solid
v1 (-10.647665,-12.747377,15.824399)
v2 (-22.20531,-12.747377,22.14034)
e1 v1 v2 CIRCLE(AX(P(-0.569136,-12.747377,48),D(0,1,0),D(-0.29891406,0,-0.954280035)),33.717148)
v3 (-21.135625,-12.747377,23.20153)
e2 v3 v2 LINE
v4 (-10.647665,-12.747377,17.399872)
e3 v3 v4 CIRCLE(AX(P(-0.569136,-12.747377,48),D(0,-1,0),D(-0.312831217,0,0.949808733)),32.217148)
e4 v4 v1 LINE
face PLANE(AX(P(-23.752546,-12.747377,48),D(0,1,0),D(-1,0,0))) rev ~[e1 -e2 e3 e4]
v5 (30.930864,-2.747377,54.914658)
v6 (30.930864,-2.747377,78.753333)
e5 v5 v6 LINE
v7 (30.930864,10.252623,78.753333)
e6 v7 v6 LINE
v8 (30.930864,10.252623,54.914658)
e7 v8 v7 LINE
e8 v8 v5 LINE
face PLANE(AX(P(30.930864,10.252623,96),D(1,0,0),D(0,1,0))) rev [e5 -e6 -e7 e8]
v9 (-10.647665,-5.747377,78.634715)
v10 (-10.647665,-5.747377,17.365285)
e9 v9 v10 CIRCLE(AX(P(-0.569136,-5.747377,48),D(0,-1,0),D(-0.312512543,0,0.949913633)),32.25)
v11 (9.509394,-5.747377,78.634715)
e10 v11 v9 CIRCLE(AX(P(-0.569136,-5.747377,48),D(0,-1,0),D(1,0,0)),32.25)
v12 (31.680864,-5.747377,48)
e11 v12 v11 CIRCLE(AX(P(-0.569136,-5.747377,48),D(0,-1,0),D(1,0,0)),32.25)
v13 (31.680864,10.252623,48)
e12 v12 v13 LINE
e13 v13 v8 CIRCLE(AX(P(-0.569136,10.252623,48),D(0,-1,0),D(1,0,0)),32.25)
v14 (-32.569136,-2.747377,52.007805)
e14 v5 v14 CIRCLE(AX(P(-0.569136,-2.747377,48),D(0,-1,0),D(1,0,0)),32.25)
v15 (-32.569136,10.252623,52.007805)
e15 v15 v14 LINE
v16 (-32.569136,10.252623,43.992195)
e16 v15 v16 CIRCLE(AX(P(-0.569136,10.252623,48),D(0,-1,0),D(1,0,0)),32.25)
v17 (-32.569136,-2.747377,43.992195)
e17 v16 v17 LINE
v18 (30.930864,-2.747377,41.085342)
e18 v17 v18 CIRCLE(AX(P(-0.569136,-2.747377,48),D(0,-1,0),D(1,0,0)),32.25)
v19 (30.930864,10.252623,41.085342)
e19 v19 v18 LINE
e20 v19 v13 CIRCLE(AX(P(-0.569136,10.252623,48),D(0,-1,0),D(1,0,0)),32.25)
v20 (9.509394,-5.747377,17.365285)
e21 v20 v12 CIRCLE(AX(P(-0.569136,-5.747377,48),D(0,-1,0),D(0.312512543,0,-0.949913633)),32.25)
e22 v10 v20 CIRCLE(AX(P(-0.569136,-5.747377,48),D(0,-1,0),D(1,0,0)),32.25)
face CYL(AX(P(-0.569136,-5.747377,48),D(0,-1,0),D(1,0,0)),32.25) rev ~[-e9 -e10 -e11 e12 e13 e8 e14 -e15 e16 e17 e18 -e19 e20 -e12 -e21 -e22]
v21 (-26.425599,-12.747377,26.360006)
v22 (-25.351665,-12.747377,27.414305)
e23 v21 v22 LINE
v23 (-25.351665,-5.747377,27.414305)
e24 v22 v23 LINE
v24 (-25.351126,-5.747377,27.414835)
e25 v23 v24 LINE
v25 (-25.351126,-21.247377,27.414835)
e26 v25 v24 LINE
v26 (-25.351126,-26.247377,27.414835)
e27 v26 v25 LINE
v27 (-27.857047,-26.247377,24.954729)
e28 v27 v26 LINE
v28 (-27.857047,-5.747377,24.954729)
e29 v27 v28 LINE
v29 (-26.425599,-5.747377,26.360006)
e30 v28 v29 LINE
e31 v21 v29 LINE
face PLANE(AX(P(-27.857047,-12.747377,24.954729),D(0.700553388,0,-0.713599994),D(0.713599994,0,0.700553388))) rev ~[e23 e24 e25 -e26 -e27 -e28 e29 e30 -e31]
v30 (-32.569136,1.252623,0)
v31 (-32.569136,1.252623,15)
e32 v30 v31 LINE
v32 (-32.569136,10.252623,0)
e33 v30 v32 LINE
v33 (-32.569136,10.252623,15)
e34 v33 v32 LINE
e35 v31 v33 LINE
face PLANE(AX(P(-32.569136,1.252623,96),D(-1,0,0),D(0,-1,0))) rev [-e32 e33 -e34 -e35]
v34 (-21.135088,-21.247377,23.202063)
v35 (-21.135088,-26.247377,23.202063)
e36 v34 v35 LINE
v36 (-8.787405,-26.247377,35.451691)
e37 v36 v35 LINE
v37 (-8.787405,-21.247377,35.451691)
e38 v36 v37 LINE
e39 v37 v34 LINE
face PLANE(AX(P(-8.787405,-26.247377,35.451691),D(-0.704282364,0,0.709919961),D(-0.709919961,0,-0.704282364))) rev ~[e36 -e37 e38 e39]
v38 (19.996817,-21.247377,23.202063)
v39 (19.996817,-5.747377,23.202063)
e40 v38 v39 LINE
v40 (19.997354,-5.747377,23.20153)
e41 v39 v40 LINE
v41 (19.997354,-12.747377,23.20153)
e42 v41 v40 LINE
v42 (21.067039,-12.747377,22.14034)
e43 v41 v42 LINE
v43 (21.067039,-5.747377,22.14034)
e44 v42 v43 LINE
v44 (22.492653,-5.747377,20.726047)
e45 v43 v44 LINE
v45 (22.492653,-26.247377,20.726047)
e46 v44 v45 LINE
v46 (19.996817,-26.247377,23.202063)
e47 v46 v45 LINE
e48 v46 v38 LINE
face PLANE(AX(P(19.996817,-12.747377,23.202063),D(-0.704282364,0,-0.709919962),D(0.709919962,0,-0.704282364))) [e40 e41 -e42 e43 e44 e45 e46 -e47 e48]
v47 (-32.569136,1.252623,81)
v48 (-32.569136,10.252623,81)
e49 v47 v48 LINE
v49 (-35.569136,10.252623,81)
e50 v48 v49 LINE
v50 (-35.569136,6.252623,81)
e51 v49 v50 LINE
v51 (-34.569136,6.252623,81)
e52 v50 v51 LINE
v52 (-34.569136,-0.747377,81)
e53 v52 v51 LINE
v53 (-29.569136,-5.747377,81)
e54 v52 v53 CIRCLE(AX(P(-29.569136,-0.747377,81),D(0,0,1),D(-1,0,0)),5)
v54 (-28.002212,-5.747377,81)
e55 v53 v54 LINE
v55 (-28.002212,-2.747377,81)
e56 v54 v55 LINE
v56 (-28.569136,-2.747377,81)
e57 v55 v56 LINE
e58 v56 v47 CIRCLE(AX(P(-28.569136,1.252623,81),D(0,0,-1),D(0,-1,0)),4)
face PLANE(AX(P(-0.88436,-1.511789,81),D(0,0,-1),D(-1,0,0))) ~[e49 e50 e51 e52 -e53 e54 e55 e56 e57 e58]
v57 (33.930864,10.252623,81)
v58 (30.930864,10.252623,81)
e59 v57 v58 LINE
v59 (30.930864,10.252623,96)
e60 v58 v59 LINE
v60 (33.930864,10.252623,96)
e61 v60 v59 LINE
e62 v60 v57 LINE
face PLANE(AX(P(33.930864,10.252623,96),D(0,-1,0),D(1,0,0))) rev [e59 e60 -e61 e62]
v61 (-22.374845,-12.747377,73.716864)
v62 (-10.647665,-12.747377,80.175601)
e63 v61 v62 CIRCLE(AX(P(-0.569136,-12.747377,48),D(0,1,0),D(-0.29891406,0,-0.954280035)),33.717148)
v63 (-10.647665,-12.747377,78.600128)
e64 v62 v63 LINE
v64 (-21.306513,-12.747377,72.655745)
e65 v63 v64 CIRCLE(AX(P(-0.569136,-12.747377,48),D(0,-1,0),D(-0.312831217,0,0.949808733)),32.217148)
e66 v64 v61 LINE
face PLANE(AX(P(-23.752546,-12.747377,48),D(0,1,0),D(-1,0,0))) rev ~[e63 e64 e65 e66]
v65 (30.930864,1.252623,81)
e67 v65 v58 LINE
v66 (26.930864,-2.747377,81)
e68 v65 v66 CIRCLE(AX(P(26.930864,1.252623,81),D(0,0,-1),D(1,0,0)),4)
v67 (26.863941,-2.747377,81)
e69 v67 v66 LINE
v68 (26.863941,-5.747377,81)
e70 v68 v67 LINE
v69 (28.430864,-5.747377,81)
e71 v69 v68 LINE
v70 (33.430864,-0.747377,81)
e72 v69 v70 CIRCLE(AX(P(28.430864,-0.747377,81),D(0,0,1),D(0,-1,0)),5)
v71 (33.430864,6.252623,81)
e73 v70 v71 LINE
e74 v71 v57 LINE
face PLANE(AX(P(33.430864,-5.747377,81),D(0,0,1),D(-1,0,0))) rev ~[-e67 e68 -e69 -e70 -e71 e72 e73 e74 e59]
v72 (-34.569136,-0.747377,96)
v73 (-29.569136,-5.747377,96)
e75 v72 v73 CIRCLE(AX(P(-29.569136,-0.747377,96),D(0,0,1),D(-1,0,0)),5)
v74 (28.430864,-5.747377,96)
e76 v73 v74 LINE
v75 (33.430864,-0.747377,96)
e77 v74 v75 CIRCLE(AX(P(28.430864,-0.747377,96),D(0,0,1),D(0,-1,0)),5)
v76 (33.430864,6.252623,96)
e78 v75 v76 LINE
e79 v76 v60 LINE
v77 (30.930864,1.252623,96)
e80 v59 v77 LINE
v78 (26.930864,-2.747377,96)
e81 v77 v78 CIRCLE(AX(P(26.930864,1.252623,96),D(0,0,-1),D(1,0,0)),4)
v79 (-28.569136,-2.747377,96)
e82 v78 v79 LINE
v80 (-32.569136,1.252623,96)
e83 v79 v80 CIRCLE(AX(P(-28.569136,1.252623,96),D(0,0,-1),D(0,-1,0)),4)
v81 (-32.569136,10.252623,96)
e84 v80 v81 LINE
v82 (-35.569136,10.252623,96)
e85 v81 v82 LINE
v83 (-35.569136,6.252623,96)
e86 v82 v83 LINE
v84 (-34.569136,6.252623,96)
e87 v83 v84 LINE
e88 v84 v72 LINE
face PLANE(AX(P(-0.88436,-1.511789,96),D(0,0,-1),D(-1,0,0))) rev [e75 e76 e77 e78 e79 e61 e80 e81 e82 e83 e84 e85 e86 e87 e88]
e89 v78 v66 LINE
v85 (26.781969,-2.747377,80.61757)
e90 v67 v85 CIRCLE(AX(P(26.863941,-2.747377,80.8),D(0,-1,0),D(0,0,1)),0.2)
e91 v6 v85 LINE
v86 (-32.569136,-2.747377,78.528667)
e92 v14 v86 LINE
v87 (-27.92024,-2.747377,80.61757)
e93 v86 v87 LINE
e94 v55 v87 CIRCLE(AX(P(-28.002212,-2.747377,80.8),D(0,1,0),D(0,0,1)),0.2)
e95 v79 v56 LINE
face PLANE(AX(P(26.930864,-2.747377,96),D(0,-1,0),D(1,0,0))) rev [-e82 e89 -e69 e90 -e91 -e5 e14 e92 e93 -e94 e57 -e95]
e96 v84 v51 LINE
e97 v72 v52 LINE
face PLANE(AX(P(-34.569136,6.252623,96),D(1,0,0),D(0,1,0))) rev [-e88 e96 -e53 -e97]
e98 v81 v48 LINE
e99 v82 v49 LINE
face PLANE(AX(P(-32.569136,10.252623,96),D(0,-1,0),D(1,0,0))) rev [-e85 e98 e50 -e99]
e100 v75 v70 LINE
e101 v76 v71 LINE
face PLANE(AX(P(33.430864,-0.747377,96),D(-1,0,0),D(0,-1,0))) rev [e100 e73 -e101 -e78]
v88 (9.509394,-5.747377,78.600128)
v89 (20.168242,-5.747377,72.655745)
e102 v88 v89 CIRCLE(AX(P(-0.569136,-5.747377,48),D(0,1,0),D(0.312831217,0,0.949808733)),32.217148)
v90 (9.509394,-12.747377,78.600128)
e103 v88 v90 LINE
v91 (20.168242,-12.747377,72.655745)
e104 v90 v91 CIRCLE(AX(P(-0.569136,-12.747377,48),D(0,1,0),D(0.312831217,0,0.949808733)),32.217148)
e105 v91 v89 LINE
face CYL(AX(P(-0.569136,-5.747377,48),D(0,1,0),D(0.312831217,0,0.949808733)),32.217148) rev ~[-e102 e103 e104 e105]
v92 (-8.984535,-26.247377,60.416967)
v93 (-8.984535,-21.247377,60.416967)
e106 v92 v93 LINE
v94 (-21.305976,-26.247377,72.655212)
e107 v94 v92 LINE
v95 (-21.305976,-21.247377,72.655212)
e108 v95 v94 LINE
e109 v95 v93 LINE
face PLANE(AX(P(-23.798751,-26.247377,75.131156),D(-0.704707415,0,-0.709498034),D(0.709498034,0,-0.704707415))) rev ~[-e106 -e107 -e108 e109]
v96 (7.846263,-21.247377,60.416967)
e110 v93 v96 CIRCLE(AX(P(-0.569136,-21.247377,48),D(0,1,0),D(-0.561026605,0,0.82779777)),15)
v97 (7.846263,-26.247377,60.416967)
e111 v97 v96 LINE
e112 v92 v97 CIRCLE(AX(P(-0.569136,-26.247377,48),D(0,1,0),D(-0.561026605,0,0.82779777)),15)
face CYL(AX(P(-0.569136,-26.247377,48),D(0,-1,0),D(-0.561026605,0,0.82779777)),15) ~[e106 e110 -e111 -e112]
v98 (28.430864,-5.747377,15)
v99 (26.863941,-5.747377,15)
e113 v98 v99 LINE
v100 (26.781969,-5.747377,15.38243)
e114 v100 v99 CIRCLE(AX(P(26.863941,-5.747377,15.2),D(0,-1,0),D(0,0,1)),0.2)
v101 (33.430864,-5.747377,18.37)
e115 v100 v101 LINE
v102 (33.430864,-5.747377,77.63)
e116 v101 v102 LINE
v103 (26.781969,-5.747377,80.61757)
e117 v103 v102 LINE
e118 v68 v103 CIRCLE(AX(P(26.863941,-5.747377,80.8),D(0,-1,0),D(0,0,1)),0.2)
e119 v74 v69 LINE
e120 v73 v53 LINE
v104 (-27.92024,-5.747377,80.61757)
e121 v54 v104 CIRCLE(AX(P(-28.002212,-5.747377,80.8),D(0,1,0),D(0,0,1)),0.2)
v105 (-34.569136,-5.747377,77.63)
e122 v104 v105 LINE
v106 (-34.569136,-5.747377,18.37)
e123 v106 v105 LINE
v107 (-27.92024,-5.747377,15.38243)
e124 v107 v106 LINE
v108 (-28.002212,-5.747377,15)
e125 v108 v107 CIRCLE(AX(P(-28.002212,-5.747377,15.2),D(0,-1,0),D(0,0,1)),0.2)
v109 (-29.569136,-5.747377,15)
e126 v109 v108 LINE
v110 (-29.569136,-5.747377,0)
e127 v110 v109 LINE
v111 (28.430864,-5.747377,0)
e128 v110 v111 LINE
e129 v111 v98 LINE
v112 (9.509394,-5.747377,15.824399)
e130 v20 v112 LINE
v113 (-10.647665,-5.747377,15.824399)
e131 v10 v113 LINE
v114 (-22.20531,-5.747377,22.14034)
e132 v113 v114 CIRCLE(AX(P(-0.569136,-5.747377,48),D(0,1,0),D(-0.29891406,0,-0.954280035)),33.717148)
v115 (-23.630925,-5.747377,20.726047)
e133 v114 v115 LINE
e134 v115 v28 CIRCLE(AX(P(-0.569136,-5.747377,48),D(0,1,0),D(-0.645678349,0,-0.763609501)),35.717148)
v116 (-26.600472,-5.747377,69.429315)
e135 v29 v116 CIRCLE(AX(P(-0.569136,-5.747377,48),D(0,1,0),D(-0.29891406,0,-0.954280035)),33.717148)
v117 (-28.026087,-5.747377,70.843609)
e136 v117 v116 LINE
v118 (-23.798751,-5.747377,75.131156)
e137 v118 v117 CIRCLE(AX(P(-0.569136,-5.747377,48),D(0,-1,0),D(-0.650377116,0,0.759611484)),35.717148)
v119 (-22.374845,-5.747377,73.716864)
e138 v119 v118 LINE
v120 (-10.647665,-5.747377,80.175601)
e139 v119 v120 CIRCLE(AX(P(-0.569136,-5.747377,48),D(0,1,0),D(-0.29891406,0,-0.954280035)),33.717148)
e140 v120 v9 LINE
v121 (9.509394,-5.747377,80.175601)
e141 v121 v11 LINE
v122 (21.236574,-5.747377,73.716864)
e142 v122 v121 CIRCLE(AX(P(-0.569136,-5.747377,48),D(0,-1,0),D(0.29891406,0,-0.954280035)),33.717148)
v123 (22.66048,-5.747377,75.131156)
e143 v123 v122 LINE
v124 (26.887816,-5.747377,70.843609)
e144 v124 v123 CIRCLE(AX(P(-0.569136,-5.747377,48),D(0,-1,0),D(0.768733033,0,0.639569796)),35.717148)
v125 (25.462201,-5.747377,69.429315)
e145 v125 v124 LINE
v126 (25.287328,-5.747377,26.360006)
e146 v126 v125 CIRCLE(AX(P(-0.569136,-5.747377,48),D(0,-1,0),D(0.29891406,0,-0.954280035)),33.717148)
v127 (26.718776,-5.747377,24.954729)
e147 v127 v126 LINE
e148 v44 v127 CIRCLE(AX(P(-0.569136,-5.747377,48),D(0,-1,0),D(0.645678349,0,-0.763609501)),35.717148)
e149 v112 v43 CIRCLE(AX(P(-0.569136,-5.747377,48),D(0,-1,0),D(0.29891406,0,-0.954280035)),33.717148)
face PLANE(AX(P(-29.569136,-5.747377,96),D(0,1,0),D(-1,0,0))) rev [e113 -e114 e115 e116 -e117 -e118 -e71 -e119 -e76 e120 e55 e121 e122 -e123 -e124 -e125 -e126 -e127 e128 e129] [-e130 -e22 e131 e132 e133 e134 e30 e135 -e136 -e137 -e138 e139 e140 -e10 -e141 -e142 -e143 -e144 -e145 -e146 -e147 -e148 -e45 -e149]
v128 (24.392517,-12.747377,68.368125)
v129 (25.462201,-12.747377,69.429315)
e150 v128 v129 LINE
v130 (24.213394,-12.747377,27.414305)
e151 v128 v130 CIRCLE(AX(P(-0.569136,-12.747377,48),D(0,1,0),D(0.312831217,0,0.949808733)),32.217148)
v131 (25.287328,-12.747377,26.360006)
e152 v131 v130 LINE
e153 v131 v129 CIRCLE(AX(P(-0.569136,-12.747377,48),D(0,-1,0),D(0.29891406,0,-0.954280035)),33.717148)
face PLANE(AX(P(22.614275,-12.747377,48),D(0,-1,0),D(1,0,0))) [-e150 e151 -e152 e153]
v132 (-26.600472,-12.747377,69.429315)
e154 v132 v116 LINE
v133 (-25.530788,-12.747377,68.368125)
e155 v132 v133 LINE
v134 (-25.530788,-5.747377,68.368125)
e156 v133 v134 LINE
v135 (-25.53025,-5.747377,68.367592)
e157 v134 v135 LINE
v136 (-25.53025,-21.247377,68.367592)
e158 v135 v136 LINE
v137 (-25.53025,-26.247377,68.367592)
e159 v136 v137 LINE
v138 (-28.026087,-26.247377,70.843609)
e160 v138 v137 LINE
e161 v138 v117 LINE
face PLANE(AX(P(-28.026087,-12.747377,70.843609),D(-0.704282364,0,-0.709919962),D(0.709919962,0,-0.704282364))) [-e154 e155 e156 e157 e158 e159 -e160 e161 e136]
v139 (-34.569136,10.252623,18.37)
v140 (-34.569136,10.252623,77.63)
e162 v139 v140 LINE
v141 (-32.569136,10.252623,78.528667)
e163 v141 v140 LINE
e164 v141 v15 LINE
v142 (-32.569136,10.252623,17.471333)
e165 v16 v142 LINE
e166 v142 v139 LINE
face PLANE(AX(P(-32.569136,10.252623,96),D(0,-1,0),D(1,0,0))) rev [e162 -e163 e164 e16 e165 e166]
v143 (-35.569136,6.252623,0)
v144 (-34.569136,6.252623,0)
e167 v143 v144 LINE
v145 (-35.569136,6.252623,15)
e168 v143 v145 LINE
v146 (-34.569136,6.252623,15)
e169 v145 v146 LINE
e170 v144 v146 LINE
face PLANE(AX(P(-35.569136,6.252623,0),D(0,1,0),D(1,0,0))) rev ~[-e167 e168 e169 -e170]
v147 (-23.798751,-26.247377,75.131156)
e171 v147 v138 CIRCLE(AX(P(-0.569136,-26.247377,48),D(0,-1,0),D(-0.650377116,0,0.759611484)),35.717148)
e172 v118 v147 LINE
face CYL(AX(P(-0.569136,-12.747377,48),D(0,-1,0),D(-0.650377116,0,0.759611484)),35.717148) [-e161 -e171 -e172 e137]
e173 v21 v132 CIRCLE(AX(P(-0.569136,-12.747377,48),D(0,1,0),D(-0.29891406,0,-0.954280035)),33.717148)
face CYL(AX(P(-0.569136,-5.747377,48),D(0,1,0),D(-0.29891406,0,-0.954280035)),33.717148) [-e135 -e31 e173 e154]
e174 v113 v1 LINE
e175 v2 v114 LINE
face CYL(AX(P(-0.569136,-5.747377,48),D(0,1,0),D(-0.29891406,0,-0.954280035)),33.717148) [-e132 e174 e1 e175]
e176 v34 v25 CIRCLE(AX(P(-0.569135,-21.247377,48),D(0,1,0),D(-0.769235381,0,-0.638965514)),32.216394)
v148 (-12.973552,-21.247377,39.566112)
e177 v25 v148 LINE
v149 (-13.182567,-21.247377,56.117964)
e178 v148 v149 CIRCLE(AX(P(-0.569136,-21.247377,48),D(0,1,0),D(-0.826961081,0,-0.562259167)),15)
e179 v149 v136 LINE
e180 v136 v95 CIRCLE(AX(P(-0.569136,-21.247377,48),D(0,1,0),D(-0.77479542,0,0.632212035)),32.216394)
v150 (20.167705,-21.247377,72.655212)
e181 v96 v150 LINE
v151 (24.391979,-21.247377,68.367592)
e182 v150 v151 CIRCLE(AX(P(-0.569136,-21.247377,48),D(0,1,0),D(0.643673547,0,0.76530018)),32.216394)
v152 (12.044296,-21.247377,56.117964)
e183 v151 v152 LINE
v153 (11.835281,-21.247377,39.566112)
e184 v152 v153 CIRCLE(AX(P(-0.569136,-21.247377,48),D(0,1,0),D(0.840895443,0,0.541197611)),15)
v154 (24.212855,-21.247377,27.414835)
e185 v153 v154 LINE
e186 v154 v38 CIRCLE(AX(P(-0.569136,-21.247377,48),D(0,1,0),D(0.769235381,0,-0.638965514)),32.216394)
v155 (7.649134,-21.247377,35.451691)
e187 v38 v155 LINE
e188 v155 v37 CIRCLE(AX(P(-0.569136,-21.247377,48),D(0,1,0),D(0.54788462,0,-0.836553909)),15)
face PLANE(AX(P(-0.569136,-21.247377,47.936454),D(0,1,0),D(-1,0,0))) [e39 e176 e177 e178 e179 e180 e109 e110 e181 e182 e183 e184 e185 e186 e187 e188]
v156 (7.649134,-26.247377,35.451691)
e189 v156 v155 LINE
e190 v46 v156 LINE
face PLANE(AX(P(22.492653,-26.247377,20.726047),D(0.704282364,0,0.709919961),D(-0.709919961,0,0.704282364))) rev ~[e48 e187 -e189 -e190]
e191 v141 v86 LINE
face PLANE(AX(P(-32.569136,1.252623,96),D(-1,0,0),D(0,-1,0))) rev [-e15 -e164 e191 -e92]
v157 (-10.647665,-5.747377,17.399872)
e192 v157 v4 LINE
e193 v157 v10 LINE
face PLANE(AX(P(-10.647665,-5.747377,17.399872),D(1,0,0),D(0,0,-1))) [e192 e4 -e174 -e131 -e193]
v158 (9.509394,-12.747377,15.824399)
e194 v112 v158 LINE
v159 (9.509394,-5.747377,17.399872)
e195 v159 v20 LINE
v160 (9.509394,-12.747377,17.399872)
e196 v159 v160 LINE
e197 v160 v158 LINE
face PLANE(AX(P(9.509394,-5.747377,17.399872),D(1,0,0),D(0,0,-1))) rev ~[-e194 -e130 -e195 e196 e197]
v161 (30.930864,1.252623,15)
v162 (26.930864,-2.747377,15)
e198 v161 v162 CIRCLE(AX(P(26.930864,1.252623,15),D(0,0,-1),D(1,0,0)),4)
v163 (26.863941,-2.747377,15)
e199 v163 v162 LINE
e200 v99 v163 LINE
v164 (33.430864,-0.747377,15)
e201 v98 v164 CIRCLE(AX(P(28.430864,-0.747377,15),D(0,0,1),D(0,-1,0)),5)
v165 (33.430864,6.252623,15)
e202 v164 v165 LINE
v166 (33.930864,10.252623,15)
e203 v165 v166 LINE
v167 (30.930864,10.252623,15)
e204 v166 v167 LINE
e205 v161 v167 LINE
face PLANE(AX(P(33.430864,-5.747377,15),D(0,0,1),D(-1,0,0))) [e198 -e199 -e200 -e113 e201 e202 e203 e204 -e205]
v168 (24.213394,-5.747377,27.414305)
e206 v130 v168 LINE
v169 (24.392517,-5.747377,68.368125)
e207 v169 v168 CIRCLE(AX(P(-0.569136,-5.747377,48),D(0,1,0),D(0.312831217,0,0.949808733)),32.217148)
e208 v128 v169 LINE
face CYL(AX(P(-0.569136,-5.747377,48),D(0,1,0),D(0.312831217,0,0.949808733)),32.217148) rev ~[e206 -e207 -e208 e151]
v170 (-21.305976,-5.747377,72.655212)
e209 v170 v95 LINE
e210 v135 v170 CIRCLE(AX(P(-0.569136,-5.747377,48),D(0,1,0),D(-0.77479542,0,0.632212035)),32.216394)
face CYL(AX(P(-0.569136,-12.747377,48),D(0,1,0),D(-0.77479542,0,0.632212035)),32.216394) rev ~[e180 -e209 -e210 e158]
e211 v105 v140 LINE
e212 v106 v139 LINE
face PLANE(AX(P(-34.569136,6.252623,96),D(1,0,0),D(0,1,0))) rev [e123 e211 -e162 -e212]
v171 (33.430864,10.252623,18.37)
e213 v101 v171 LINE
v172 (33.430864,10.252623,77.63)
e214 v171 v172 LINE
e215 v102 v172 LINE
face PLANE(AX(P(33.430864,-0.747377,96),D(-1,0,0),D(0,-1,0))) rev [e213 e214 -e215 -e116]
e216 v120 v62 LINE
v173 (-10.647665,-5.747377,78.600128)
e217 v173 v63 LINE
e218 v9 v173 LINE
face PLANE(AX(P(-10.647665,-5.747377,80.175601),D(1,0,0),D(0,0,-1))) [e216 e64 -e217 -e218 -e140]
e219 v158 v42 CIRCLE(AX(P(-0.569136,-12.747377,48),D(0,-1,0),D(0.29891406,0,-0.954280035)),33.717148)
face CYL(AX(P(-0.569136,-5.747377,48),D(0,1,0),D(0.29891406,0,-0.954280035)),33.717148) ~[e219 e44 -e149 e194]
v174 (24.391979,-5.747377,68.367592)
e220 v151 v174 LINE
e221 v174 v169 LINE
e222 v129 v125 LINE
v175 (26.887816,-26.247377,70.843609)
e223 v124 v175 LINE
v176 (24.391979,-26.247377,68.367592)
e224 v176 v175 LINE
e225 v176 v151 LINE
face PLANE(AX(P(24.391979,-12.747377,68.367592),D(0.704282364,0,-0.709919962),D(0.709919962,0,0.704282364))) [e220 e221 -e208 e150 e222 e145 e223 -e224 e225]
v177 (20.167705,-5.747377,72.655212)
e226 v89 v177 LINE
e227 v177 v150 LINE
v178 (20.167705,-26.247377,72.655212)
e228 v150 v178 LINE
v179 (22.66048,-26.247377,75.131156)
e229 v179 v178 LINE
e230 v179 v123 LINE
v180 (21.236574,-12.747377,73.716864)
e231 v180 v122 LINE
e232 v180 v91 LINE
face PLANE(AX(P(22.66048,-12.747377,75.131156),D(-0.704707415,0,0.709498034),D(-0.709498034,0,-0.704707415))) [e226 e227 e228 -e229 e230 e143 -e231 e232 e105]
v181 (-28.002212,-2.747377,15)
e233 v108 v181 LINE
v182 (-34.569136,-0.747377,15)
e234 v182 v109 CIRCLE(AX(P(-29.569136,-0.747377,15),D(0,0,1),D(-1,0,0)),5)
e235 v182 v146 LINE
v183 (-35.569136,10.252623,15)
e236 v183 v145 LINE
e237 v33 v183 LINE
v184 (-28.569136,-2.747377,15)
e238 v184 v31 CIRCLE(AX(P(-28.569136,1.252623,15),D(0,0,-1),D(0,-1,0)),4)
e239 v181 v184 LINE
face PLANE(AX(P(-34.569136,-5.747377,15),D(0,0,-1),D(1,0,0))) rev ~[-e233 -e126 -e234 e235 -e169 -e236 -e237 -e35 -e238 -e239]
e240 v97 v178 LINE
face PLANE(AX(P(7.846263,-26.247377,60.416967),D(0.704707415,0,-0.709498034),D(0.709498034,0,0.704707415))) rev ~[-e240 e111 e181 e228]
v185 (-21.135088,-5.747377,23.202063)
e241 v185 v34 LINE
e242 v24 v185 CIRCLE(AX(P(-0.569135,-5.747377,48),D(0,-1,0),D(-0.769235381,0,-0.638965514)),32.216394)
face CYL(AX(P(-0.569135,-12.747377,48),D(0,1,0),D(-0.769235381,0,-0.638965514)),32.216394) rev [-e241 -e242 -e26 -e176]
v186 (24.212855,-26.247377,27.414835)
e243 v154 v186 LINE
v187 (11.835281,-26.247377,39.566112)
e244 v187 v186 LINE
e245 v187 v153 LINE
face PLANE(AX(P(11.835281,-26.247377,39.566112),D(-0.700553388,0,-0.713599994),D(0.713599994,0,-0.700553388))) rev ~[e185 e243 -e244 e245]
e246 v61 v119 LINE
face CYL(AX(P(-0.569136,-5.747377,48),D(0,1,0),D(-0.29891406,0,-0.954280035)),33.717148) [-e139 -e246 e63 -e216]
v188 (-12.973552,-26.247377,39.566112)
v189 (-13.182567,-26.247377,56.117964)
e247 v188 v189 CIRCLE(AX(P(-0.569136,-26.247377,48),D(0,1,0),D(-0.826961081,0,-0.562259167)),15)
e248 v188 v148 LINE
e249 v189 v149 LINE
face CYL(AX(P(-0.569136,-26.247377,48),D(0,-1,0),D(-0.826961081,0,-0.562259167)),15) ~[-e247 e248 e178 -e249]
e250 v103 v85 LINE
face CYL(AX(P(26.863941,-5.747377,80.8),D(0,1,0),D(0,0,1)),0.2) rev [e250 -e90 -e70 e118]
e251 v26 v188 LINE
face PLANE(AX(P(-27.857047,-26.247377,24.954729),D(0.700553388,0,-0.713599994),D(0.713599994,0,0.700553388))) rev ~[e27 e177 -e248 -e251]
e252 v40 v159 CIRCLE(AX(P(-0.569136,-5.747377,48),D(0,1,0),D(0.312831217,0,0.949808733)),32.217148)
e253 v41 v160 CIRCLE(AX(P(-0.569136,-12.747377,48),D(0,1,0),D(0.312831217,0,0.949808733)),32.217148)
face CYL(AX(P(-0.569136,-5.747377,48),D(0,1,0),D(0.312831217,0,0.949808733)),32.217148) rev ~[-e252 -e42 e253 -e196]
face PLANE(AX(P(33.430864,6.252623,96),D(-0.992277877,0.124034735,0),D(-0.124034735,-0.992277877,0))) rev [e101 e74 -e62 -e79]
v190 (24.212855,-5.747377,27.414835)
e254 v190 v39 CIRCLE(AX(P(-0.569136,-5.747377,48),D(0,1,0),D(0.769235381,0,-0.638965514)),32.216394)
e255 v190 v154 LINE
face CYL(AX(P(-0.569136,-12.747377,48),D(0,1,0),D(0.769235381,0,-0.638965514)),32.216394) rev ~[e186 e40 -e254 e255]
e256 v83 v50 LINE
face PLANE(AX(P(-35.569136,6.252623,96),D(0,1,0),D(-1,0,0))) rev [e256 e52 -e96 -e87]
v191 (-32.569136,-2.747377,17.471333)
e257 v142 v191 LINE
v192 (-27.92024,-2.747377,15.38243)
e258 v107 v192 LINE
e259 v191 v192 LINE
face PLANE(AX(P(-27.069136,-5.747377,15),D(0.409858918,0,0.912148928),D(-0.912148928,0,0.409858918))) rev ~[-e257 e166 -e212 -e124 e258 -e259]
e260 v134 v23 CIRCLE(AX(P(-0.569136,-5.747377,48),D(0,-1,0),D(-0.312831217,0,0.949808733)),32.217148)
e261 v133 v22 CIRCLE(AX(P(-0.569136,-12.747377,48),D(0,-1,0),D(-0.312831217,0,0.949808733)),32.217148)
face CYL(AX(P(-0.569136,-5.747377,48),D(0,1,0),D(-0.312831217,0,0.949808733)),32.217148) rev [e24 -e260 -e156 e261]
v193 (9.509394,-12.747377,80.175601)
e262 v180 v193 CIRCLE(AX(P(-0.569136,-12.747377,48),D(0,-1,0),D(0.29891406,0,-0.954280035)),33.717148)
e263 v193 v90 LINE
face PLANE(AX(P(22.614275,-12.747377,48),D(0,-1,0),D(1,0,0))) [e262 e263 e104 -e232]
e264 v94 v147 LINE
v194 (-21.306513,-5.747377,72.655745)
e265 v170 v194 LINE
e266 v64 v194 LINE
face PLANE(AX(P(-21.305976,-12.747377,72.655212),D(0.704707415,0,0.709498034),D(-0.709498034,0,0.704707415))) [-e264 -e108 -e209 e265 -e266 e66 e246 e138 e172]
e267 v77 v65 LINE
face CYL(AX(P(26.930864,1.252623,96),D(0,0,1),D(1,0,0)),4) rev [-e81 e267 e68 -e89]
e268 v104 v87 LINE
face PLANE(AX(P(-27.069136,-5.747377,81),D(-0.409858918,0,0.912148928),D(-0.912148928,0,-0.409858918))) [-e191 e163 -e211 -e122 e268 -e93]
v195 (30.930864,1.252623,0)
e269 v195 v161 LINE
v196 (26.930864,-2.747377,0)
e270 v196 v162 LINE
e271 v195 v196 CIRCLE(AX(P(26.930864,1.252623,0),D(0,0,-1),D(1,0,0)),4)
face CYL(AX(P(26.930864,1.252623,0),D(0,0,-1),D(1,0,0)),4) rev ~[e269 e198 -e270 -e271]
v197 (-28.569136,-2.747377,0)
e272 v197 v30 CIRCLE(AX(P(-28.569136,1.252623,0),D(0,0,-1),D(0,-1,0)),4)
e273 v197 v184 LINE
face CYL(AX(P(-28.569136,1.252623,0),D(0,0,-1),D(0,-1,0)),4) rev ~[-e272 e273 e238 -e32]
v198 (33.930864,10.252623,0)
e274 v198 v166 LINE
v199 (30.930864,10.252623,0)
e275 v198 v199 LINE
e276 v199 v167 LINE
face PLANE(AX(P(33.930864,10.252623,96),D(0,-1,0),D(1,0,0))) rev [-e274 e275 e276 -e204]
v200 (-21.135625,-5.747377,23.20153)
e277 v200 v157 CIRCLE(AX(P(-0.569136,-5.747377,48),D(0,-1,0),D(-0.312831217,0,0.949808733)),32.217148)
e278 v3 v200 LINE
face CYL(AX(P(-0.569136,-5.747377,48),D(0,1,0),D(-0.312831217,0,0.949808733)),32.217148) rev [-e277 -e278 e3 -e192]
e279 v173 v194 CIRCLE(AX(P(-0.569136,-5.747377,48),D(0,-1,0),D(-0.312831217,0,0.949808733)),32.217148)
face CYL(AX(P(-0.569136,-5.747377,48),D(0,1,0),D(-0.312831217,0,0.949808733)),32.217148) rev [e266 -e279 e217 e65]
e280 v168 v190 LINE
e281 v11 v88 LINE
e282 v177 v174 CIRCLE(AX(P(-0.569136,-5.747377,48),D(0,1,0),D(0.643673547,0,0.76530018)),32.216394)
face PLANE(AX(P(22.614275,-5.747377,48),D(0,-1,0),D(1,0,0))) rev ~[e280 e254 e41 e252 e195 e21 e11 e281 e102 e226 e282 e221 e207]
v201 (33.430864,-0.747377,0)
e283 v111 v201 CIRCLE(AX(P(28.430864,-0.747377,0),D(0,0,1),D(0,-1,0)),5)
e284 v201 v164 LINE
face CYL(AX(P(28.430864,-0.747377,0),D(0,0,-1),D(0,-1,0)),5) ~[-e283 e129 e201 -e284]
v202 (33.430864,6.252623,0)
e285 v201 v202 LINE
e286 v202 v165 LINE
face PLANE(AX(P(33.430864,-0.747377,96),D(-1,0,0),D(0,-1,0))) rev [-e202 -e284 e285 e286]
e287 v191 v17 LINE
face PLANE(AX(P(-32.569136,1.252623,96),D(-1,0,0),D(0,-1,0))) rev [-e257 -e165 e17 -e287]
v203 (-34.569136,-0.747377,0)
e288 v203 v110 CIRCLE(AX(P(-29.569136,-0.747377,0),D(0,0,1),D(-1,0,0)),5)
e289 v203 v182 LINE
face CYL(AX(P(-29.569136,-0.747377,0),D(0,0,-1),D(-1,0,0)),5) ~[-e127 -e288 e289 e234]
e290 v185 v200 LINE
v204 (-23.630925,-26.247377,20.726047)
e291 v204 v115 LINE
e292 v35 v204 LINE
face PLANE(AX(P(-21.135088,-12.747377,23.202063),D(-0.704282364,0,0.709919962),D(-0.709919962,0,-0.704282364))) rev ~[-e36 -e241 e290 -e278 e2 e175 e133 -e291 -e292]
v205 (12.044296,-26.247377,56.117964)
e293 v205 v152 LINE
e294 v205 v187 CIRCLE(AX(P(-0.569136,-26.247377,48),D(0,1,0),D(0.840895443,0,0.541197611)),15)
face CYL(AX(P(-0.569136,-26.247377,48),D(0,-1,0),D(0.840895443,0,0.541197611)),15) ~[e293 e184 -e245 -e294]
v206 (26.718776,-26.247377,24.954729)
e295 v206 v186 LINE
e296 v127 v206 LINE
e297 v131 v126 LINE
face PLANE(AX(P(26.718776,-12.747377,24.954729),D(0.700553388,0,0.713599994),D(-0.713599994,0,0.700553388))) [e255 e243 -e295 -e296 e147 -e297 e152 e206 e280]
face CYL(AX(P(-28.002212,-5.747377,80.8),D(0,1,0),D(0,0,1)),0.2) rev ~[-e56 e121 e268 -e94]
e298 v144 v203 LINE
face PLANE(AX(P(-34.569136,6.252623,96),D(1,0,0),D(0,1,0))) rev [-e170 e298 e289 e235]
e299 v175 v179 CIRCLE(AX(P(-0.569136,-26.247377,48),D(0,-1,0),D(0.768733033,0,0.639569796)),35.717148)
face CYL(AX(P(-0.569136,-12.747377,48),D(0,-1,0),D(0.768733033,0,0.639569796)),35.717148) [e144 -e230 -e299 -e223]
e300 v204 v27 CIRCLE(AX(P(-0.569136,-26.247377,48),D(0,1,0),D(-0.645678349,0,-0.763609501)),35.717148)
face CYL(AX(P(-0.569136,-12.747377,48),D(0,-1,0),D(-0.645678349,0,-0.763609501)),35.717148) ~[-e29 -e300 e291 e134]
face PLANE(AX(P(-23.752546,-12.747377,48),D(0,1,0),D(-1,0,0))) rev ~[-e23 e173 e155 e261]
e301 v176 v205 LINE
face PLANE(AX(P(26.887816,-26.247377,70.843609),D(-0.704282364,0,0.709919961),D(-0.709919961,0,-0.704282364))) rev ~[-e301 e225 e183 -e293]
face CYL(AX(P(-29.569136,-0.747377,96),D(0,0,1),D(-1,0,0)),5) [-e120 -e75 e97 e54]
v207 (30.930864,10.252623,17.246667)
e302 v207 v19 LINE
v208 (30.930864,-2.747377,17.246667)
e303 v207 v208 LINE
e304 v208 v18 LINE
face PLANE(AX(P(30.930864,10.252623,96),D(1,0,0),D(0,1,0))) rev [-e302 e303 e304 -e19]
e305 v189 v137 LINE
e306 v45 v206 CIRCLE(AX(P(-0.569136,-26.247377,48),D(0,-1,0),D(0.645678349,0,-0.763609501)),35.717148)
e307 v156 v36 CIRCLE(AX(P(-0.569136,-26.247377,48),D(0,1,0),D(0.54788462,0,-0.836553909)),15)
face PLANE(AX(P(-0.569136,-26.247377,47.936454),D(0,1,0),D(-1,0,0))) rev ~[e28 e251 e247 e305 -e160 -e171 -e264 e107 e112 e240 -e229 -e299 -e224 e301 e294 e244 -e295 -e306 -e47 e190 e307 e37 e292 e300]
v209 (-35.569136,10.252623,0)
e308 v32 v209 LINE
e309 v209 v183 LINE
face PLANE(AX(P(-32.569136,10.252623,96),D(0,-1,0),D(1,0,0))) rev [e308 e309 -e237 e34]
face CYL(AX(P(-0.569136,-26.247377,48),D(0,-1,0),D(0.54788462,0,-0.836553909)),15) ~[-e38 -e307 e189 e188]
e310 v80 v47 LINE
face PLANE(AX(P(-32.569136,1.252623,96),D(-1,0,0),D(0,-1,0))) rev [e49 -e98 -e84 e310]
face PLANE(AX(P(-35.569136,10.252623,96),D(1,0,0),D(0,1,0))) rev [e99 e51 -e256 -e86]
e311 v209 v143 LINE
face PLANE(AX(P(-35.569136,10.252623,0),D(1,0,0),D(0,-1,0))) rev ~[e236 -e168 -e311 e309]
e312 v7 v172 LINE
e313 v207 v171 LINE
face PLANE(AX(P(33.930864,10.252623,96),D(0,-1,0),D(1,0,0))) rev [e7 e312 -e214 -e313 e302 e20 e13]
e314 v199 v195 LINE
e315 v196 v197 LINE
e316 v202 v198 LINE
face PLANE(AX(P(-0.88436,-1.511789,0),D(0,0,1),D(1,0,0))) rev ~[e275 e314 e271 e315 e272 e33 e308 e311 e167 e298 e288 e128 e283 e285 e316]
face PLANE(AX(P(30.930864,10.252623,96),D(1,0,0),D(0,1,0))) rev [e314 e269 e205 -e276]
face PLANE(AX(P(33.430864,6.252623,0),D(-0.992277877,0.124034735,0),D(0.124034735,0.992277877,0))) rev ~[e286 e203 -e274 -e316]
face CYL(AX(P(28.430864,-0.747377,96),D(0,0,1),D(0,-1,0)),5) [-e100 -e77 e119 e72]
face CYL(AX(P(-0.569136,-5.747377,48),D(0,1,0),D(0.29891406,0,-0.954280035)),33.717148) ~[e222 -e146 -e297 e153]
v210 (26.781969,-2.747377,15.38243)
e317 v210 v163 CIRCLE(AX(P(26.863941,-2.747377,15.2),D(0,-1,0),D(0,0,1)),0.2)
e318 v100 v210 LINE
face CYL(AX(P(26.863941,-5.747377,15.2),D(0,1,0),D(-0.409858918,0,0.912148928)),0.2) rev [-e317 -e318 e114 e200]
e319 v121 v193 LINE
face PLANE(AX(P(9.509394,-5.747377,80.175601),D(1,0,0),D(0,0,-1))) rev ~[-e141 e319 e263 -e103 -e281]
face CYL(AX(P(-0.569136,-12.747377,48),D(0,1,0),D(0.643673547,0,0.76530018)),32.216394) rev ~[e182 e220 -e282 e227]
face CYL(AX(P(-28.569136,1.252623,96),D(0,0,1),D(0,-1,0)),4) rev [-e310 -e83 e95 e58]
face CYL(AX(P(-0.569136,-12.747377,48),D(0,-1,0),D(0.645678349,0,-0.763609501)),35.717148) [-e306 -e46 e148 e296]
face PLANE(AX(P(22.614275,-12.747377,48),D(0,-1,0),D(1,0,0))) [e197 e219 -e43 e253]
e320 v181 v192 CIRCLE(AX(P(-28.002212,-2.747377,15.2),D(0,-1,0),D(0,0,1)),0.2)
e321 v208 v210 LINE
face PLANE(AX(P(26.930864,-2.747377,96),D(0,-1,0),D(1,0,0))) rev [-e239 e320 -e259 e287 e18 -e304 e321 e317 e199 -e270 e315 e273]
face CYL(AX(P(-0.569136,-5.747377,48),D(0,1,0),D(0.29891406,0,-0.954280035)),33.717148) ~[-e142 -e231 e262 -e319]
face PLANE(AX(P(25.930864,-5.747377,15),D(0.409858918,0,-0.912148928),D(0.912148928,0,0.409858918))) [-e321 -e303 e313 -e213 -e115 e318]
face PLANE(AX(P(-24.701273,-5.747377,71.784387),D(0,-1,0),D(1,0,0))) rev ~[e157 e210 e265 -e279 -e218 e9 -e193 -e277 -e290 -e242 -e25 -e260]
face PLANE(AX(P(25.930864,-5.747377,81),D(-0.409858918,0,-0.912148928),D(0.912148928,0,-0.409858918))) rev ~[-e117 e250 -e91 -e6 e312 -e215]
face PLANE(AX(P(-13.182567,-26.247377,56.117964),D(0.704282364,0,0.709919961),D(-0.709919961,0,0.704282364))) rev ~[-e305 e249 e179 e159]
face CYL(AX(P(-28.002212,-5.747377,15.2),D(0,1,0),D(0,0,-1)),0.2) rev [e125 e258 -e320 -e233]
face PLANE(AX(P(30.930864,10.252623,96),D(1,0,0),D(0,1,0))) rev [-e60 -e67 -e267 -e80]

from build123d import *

# Parameters (mm, degrees)
BOSS_EXTRUDE1_DEPTH      = 15
BOSS_EXTRUDE2_DEPTH      = 66
CUT_EXTRUDE1_DEPTH       = 16
FILLET1_R                = 0.2
SKETCH5_R                = 32.25
CUT_EXTRUDE2_DEPTH       = 66
BOSS_EXTRUDE7_DEPTH      = 7
BOSS_EXTRUDE9_DEPTH      = 13.5
BOSS_EXTRUDE9_DEPTH_BACK = 7
BOSS_EXTRUDE10_DEPTH     = 5


with BuildPart() as part:
    # Sketch1 → Boss-Extrude1 (new body)
    with BuildSketch(Plane.XY):
        with BuildLine():
            Line((-35.569135578, 10.252622841), (-35.569135578, 6.252622841))
            Line((-35.569135578, 6.252622841), (-34.569135578, 6.252622841))
            Line((-34.569135578, 6.252622841), (-34.569135578, -0.747377159))
            ThreePointArc((-34.569135578, -0.747377159), (-33.104669484, -4.282911065), (-29.569135578, -5.747377159))
            Line((-29.569135578, -5.747377159), (28.430864422, -5.747377159))
            ThreePointArc((28.430864422, -5.747377159), (31.966398327, -4.282911065), (33.430864422, -0.747377159))
            Line((33.430864422, -0.747377159), (33.430864422, 6.252622841))
            Line((33.430864422, 6.252622841), (33.930864422, 10.252622841))
            Line((33.930864422, 10.252622841), (30.930864422, 10.252622841))
            Line((30.930864422, 10.252622841), (30.930864422, 1.252622841))
            ThreePointArc((30.930864422, 1.252622841), (29.759291546, -1.575804284), (26.930864422, -2.747377159))
            Line((26.930864422, -2.747377159), (-28.569135578, -2.747377159))
            ThreePointArc((-28.569135578, -2.747377159), (-31.397562703, -1.575804284), (-32.569135578, 1.252622841))
            Line((-32.569135578, 1.252622841), (-32.569135578, 10.252622841))
            Line((-32.569135578, 10.252622841), (-35.569135578, 10.252622841))
        make_face()
    boss_extrude1 = extrude(amount=BOSS_EXTRUDE1_DEPTH)

    # Sketch2 → Boss-Extrude2 (add)
    with BuildSketch(Plane.XY.offset(15)):
        Polygon((33.430864422, -5.747377159), (-34.569135578, -5.747377159), (-34.569135578, 10.252622841), (-32.569135578, 10.252622841), (-32.569135578, -2.747377159), (30.930864422, -2.747377159), (30.930864422, 10.252622841), (33.430864422, 10.252622841), align=None)
    extrude(amount=BOSS_EXTRUDE2_DEPTH)

    # Mirror1: Boss-Extrude1 across plane
    add(boss_extrude1.mirror(Plane(origin=(0, 0, 48), x_dir=(1, 0, 0), z_dir=(0, 0, -1))))

    # Sketch4 → Cut-Extrude1 (cut)
    with BuildSketch(Plane.XZ.offset(5.747377159)):
        Polygon((-34.569135578, 15), (-27.069135578, 15), (-34.569135578, 18.37), align=None)
        Polygon((33.430864422, 18.37), (33.430864422, 15), (25.930864422, 15), align=None)
        Polygon((33.430864422, 81), (25.930864422, 81), (33.430864422, 77.63), align=None)
        Polygon((-34.569135578, 77.63), (-34.569135578, 81), (-27.069135578, 81), align=None)
    extrude(amount=-CUT_EXTRUDE1_DEPTH, mode=Mode.SUBTRACT)

    # Fillet1
    fillet1_edges = [part.edges().sort_by_distance(p)[0] for p in [
        (-27.069135578, -4.247377159, 15),
        (25.930864422, -4.247377159, 15),
        (25.930864422, -4.247377159, 81),
        (-27.069135578, -4.247377159, 81),
    ]]
    fillet(fillet1_edges, radius=FILLET1_R)

    # Sketch5 → Cut-Extrude2 (cut)
    with BuildSketch(Plane.XZ.offset(5.747377159)):
        with Locations((-0.569135578, 48)):
            Circle(SKETCH5_R)
    extrude(amount=-CUT_EXTRUDE2_DEPTH, mode=Mode.SUBTRACT)

    # Sketch14 → Boss-Extrude7 (add)
    with BuildSketch(Plane.XZ.offset(5.747377159)):
        with BuildLine():
            Line((-10.647665103, 80.175600928), (-10.647665103, 78.600128297))
            ThreePointArc((-10.647665103, 78.600128297), (-32.786283329, 48), (-10.647665103, 17.399871703))
            Line((-10.647665103, 17.399871703), (-10.647665103, 15.824399072))
            ThreePointArc((-10.647665103, 15.824399072), (-34.286283329, 48), (-10.647665103, 80.175600928))
        make_face()
        with BuildLine():
            Line((9.509393946, 17.399871703), (9.509393946, 15.824399072))
            ThreePointArc((9.509393946, 15.824399072), (33.148012172, 48), (9.509393946, 80.175600928))
            Line((9.509393946, 80.175600928), (9.509393946, 78.600128297))
            ThreePointArc((9.509393946, 78.600128297), (31.648012172, 48), (9.509393946, 17.399871703))
        make_face()
    extrude(amount=BOSS_EXTRUDE7_DEPTH)

    # Sketch15 → Boss-Extrude9 (add, two sides)
    with BuildSketch(Plane.XZ.offset(12.747377159)) as boss_extrude9_sk:
        with BuildLine():
            Line((-28.026086912, 70.843608886), (-25.530250363, 68.367592208))
            ThreePointArc((-25.530250363, 68.367592208), (-23.518464715, 70.610271024), (-21.305976378, 72.655212375))
            Line((-21.305976378, 72.655212375), (-23.798751135, 75.131155606))
            ThreePointArc((-23.798751135, 75.131155606), (-26.002927667, 73.076619857), (-28.026086912, 70.843608886))
        make_face()
        with BuildLine():
            Line((22.660479978, 75.131155606), (20.167705221, 72.655212375))
            ThreePointArc((20.167705221, 72.655212375), (22.380193558, 70.610271024), (24.391979206, 68.367592208))
            Line((24.391979206, 68.367592208), (26.887815755, 70.843608886))
            ThreePointArc((26.887815755, 70.843608886), (24.86465651, 73.076619857), (22.660479978, 75.131155606))
        make_face()
        with BuildLine():
            Line((19.996816858, 23.202063312), (22.492653407, 20.726046634))
            ThreePointArc((22.492653407, 20.726046634), (24.694346544, 22.751809679), (26.718776146, 24.954728963))
            Line((26.718776146, 24.954728963), (24.212854805, 27.414835044))
            ThreePointArc((24.212854805, 27.414835044), (22.202466054, 25.210743262), (19.996816858, 23.202063312))
        make_face()
        with BuildLine():
            Line((-21.135088015, 23.202063312), (-23.630924564, 20.726046634))
            ThreePointArc((-23.630924564, 20.726046634), (-25.832617701, 22.751809679), (-27.857047303, 24.954728963))
            Line((-27.857047303, 24.954728963), (-25.351125962, 27.414835044))
            ThreePointArc((-25.351125962, 27.414835044), (-23.340737211, 25.210743262), (-21.135088015, 23.202063312))
        make_face()
    extrude(amount=BOSS_EXTRUDE9_DEPTH)
    extrude(boss_extrude9_sk.sketch, amount=-BOSS_EXTRUDE9_DEPTH_BACK)

    # Sketch17 → Boss-Extrude10 (add)
    with BuildSketch(Plane.XZ.offset(26.247377159)):
        with BuildLine():
            Line((-8.787404877, 35.45169136), (-23.630924564, 20.726046634))
            ThreePointArc((-23.630924564, 20.726046634), (-25.832617701, 22.751809679), (-27.857047303, 24.954728963))
            Line((-27.857047303, 24.954728963), (-12.973551792, 39.566112498))
            ThreePointArc((-12.973551792, 39.566112498), (-15.567939739, 47.810596324), (-13.182567225, 56.11796416))
            Line((-13.182567225, 56.11796416), (-28.026086912, 70.843608886))
            ThreePointArc((-28.026086912, 70.843608886), (-26.002927667, 73.076619857), (-23.798751135, 75.131155606))
            Line((-23.798751135, 75.131155606), (-8.98453465, 60.416966557))
            ThreePointArc((-8.98453465, 60.416966557), (-0.569135578, 63), (7.846263493, 60.416966557))
            Line((7.846263493, 60.416966557), (22.660479978, 75.131155606))
            ThreePointArc((22.660479978, 75.131155606), (24.86465651, 73.076619857), (26.887815755, 70.843608886))
            Line((26.887815755, 70.843608886), (12.044296068, 56.11796416))
            ThreePointArc((12.044296068, 56.11796416), (14.429668582, 47.810596325), (11.835280635, 39.566112498))
            Line((11.835280635, 39.566112498), (26.718776146, 24.954728963))
            ThreePointArc((26.718776146, 24.954728963), (24.694346544, 22.751809679), (22.492653407, 20.726046634))
            Line((22.492653407, 20.726046634), (7.64913372, 35.45169136))
            ThreePointArc((7.64913372, 35.45169136), (-0.569135578, 33), (-8.787404877, 35.45169136))
        make_face()
    extrude(amount=-BOSS_EXTRUDE10_DEPTH)


solid = part.part
